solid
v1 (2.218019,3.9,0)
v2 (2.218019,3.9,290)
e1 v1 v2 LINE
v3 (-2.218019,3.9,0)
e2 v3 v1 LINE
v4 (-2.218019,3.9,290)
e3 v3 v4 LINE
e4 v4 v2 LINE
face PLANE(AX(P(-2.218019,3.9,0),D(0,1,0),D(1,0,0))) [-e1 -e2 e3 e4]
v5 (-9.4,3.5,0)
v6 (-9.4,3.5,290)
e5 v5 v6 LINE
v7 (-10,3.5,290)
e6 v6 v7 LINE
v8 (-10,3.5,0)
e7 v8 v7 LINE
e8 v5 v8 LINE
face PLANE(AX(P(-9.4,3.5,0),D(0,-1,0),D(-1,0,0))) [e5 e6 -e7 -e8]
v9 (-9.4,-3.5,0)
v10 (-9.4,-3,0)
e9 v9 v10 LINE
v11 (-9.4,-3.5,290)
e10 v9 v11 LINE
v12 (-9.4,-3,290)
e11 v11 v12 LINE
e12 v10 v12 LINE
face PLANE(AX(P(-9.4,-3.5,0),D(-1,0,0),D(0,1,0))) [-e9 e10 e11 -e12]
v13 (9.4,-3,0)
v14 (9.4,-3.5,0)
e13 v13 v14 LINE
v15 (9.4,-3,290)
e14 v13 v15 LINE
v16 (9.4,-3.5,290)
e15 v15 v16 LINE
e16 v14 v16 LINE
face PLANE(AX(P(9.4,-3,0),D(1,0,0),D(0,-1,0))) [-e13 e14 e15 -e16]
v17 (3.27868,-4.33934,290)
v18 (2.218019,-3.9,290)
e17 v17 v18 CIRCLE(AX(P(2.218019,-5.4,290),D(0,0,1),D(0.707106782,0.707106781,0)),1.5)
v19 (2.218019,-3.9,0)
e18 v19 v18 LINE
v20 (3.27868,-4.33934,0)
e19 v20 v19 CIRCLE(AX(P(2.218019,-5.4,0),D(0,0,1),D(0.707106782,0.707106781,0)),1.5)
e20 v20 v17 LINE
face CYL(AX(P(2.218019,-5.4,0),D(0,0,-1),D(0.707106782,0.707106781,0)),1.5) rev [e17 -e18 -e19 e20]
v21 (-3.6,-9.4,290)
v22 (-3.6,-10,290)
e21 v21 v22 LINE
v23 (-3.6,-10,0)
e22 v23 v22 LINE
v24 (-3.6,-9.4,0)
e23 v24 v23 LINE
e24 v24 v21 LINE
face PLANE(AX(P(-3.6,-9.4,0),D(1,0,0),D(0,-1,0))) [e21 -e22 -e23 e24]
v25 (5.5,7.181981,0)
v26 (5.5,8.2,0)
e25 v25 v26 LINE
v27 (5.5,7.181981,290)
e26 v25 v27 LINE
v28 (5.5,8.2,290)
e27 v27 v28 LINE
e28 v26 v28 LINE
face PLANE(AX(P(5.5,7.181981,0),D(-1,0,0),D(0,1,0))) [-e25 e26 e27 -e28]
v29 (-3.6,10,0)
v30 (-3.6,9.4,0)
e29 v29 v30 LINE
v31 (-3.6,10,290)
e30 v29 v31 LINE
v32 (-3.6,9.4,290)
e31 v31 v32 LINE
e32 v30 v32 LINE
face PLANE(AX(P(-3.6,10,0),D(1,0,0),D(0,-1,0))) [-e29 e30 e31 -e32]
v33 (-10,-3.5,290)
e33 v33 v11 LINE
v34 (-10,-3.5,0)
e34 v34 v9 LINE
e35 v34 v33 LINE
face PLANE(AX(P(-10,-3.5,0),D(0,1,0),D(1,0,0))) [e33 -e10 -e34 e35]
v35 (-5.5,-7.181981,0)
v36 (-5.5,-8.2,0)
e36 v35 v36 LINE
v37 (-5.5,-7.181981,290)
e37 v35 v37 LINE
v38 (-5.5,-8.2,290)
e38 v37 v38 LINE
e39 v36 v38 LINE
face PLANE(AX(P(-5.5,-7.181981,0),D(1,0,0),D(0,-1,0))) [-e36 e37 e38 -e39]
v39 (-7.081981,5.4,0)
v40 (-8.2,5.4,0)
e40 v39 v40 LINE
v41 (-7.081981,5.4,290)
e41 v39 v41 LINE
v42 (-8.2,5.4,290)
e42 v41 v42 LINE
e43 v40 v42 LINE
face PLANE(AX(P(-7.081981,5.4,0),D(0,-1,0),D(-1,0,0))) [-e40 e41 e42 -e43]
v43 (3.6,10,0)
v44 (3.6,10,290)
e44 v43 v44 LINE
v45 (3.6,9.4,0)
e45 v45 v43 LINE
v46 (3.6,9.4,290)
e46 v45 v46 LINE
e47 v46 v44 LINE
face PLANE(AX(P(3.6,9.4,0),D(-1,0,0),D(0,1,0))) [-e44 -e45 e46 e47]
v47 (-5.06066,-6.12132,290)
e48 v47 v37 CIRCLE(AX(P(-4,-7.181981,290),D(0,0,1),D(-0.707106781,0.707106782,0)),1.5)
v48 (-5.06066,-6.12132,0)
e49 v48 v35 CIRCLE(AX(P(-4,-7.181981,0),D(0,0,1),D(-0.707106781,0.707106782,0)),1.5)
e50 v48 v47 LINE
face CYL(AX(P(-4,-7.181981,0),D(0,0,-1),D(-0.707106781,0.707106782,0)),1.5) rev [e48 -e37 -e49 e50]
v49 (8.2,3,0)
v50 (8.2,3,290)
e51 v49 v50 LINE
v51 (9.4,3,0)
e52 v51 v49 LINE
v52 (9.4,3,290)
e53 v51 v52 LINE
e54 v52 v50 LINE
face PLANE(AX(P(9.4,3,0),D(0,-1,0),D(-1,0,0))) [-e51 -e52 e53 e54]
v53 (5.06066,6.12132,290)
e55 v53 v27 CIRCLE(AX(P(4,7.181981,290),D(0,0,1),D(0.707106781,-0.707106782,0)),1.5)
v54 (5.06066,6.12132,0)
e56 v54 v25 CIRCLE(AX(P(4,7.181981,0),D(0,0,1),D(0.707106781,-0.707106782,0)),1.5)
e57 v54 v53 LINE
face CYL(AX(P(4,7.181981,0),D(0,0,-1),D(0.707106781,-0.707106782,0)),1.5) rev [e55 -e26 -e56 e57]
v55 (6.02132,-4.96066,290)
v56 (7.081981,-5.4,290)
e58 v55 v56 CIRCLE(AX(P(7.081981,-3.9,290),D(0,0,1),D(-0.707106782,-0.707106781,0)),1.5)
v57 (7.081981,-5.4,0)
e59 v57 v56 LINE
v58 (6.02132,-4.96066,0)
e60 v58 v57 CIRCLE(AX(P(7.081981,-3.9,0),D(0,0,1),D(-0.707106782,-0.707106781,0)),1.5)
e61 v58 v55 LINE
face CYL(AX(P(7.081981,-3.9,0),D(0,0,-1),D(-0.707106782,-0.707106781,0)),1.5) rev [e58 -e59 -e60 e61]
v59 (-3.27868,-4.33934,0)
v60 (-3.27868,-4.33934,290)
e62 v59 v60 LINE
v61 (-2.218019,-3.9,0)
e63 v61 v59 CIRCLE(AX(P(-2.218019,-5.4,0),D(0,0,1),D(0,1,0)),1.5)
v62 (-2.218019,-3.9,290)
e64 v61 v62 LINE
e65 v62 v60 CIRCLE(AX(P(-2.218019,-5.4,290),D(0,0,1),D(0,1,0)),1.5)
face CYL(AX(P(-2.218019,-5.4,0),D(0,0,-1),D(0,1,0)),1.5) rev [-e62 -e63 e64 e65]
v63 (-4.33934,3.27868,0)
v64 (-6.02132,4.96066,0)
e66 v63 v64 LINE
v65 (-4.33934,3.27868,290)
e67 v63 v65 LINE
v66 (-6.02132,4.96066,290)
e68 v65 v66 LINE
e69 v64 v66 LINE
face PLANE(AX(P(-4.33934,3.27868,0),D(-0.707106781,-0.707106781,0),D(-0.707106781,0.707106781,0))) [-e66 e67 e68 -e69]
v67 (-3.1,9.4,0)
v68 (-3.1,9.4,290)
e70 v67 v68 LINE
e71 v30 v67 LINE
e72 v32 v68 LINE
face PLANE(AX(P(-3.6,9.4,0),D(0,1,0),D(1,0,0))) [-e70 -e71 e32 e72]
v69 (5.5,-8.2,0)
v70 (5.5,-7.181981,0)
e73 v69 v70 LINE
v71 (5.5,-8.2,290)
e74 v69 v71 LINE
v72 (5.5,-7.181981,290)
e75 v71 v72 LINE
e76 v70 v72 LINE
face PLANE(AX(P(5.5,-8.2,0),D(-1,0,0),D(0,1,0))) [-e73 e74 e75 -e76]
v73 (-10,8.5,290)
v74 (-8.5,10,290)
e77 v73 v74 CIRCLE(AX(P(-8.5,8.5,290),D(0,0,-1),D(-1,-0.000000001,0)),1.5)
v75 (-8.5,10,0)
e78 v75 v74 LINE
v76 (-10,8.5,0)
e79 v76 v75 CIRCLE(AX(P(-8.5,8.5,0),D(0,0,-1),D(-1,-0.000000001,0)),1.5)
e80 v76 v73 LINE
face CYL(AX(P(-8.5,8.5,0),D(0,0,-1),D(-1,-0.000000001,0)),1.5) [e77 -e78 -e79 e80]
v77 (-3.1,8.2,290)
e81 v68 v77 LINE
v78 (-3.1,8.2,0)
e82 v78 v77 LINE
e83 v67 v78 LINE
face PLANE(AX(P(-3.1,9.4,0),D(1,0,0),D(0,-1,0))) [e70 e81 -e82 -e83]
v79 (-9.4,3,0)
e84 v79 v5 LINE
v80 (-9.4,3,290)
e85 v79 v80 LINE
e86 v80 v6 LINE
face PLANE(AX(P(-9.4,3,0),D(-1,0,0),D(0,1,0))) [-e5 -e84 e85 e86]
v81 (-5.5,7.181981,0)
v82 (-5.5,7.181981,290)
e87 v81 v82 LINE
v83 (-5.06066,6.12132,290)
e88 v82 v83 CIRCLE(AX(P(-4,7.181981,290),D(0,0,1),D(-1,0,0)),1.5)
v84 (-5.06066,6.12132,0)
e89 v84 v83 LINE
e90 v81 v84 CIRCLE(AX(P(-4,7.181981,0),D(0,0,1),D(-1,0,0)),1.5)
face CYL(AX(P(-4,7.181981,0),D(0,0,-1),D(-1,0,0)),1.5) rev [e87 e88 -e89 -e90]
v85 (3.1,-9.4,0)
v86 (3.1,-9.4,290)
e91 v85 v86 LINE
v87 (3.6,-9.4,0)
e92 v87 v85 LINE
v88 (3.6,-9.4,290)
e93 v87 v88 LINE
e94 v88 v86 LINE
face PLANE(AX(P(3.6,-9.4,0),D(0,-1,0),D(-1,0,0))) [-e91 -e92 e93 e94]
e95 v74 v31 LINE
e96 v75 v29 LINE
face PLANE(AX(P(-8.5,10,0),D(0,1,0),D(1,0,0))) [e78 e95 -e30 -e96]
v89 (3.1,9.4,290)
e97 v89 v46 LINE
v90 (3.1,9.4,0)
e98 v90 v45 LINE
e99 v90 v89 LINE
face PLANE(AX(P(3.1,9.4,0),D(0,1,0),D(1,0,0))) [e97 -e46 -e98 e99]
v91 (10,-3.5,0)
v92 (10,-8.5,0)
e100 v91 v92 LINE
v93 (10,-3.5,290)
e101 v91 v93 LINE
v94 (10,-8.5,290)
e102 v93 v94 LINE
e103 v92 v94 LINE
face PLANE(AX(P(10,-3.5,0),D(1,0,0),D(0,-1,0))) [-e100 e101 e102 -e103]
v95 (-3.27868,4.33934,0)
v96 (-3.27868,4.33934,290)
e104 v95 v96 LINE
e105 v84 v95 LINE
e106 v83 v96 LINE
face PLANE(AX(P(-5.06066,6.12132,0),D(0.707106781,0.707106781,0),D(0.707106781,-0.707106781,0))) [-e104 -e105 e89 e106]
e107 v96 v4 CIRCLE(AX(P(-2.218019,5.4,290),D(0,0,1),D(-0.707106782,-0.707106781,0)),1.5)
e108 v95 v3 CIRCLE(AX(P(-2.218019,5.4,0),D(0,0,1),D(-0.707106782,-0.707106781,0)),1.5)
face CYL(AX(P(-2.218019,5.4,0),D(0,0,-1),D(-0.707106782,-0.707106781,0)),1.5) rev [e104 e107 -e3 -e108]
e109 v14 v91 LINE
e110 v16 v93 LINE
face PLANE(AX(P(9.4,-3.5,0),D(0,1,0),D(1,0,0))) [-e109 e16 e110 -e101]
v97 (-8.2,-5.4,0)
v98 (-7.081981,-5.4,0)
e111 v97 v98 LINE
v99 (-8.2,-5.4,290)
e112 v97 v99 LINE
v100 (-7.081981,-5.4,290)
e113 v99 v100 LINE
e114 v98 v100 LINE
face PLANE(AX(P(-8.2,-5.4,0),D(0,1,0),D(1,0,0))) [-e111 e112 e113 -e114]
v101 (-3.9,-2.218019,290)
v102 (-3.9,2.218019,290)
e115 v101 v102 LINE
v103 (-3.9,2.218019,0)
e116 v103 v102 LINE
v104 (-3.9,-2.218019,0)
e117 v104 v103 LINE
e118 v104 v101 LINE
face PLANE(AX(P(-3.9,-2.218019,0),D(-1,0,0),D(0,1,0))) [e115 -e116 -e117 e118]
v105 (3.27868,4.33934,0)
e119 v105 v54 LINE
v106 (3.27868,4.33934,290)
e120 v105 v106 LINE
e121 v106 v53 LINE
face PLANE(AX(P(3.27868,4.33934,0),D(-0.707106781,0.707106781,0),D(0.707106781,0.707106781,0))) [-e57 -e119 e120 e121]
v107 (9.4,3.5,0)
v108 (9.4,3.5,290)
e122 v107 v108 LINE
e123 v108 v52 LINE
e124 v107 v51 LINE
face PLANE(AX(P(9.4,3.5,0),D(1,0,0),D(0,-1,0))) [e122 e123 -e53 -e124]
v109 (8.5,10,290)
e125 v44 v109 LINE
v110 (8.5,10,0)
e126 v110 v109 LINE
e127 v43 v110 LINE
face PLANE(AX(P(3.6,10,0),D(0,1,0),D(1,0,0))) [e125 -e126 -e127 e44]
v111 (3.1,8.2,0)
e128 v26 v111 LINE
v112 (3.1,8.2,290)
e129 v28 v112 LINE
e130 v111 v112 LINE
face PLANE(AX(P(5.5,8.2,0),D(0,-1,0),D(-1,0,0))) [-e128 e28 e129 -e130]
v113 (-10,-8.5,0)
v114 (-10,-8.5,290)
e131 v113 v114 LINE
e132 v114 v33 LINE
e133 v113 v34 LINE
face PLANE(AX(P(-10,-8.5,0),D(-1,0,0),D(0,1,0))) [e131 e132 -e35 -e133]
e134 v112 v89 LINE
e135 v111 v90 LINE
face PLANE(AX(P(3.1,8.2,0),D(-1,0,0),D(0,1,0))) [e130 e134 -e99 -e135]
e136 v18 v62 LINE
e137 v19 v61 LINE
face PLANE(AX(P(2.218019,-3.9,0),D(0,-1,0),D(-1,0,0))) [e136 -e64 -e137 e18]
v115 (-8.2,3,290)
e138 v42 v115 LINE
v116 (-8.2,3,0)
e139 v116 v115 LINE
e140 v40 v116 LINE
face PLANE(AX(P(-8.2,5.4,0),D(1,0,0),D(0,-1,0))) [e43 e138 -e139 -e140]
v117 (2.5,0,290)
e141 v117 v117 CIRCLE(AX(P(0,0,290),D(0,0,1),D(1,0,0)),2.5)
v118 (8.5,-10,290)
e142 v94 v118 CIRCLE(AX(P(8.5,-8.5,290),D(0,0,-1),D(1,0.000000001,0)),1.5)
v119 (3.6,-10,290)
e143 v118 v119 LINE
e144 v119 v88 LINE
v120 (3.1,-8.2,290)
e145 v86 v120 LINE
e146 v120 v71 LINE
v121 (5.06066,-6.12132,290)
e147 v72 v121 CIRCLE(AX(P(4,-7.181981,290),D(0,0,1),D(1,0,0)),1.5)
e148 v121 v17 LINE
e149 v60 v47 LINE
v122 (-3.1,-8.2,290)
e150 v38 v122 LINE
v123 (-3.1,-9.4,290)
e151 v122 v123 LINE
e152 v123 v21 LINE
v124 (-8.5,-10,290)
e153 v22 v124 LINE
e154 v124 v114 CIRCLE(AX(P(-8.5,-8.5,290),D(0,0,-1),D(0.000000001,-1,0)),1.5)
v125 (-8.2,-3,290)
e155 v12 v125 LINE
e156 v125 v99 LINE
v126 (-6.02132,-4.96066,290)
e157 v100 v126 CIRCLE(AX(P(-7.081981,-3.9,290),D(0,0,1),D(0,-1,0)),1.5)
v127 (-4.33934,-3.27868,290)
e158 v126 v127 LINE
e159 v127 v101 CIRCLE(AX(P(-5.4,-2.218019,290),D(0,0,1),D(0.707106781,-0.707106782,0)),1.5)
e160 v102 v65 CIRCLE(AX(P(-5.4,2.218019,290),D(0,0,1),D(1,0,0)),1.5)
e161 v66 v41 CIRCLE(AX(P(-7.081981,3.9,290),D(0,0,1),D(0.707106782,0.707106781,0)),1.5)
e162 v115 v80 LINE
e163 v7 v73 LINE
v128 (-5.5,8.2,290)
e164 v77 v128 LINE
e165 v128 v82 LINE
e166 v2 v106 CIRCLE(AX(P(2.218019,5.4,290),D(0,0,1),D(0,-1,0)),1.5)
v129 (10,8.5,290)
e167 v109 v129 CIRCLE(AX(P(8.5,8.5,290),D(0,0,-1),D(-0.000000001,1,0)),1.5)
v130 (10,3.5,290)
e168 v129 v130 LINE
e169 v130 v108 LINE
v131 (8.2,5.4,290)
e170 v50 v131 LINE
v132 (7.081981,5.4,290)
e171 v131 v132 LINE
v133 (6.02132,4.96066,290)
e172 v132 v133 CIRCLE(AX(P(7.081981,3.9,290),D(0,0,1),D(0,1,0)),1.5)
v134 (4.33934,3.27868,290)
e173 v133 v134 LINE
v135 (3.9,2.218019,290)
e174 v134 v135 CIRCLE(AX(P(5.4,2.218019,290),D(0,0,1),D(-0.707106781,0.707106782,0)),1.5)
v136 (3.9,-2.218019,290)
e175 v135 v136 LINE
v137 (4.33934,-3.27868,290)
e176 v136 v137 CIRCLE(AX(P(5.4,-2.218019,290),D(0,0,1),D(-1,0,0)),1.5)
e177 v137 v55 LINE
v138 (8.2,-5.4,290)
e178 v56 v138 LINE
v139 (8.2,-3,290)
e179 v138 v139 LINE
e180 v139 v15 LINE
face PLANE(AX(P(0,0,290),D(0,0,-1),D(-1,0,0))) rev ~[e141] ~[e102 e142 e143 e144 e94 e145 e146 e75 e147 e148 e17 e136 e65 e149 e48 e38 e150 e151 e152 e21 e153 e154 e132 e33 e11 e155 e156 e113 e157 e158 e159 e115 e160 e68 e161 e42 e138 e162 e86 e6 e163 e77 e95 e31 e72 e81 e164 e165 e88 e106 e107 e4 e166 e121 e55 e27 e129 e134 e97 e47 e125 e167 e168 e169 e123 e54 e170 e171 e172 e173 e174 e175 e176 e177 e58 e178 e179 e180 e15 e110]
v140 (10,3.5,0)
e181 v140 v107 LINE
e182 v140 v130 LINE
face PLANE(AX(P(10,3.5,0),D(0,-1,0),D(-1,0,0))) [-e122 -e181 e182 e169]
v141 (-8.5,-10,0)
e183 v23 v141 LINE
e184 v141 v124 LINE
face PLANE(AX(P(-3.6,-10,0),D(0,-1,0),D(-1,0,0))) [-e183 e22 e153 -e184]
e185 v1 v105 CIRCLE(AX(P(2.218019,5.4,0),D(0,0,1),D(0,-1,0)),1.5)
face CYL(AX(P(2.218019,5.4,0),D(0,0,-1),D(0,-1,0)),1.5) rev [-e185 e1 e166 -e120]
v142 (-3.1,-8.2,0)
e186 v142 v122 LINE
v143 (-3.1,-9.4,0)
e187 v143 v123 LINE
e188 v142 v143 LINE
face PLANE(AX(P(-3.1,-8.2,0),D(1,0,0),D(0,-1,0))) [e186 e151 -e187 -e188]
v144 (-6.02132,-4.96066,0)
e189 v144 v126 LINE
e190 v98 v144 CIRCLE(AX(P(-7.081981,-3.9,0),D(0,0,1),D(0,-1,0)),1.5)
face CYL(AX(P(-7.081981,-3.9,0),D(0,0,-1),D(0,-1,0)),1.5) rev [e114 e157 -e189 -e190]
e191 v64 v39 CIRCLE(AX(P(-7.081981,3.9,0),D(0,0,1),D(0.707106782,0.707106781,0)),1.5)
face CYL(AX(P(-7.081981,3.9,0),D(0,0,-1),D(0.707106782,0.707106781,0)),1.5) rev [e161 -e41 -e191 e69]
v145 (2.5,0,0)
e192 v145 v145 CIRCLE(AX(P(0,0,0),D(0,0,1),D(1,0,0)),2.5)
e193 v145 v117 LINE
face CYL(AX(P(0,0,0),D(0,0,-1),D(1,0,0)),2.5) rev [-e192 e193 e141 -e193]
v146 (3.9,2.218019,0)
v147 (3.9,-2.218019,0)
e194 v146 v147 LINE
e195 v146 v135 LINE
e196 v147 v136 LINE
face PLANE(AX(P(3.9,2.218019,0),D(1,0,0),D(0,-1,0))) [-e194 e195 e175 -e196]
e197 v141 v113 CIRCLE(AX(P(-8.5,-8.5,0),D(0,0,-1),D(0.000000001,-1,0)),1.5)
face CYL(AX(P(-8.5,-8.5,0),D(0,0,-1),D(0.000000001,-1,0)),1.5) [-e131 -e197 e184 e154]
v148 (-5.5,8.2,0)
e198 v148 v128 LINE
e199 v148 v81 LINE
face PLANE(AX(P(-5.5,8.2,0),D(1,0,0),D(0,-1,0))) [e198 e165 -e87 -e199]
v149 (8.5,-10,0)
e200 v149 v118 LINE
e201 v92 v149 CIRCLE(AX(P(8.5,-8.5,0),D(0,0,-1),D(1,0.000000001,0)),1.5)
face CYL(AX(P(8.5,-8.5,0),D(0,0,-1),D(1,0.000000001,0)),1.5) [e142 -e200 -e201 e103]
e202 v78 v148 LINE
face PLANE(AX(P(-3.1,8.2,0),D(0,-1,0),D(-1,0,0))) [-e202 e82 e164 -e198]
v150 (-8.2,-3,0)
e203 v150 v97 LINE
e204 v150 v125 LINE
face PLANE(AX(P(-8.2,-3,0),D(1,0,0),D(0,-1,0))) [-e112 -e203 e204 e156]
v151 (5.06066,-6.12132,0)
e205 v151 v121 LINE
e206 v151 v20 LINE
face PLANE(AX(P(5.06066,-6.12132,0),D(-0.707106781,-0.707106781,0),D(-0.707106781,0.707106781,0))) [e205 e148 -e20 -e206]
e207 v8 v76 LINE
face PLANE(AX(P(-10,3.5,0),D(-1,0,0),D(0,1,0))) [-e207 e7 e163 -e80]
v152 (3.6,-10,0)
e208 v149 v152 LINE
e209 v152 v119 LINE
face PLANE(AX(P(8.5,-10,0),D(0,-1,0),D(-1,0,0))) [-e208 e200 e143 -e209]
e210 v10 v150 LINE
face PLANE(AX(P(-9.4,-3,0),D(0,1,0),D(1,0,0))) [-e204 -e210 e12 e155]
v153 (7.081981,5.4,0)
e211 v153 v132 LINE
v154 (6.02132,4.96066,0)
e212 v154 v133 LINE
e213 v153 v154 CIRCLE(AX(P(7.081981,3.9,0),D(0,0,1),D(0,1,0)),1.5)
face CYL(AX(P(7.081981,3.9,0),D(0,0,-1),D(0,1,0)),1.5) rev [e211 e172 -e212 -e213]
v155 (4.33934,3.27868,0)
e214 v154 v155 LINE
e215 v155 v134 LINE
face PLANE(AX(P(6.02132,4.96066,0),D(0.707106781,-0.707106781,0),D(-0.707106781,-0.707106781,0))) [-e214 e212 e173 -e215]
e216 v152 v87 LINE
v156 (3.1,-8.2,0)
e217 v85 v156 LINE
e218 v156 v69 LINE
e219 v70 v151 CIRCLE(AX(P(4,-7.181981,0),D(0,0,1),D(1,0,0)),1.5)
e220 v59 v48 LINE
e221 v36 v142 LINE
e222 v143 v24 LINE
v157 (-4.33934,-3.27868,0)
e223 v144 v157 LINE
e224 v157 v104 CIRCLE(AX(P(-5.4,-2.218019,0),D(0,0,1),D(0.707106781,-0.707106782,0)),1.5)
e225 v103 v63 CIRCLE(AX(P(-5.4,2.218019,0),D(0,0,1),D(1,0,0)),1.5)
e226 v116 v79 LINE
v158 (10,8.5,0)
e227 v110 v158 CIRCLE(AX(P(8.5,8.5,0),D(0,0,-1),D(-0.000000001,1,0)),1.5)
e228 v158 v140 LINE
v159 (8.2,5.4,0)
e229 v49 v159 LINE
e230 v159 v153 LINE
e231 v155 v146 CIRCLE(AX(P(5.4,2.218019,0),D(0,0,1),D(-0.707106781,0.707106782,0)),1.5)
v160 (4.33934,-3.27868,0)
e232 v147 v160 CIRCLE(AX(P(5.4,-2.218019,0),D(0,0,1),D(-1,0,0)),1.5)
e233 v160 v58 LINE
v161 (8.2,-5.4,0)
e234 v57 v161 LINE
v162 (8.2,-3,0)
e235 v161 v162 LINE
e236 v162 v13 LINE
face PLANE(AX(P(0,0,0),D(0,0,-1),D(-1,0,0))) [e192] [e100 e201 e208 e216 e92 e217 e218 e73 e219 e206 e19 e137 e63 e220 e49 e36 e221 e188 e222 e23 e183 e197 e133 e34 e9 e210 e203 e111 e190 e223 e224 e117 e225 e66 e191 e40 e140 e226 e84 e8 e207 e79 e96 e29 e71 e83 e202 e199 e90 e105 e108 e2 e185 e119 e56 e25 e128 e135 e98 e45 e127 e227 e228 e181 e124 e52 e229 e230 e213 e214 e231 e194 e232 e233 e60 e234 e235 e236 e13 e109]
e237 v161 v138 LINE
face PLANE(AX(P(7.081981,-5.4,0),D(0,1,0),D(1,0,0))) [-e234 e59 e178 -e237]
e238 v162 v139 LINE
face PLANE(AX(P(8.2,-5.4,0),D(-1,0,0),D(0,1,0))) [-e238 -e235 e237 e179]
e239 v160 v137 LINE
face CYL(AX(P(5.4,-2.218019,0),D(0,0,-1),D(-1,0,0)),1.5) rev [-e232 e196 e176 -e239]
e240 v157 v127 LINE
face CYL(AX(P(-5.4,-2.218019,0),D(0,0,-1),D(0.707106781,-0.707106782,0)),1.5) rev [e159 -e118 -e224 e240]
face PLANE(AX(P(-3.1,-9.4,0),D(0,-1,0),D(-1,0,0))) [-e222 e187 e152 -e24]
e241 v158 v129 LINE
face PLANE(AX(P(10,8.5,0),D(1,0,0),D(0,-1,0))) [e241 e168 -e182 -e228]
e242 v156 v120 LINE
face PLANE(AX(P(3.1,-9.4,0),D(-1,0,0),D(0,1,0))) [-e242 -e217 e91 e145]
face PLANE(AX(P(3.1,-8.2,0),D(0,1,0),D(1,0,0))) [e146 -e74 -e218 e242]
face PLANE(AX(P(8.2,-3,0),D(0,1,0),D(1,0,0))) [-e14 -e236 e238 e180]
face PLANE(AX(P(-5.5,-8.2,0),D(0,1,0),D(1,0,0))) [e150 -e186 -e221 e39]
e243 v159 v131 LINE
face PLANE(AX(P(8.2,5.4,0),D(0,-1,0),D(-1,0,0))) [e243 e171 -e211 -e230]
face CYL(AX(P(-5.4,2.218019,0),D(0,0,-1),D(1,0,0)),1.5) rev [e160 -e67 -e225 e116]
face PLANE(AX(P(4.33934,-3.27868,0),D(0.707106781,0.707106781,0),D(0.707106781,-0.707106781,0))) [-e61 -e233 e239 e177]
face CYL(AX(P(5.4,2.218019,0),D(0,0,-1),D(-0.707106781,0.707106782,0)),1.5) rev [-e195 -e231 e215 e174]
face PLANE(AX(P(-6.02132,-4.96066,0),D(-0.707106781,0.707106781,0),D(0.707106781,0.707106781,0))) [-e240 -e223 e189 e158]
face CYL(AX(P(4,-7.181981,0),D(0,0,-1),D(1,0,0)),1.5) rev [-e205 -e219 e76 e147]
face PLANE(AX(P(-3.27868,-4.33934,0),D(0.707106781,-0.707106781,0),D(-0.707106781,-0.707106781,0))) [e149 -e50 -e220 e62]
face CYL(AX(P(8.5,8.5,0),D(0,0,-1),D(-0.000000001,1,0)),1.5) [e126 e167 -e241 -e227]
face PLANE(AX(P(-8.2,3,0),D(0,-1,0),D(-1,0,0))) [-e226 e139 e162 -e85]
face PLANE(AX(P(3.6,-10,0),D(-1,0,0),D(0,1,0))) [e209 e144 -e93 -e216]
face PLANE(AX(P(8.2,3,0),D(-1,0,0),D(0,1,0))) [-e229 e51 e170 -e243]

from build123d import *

# Parameters (mm, degrees)
SKETCH1_R           = 2.5
BOSS_EXTRUDE1_DEPTH = 290


with BuildPart() as part:
    # Sketch1 → Boss-Extrude1 (new body)
    with BuildSketch(Plane.XY):
        with BuildLine():
            Line((-3.6, -10), (-8.5, -10))
            ThreePointArc((-8.5, -10), (-9.560660172, -9.560660172), (-10, -8.5))
            Line((-10, -8.5), (-10, -3.5))
            Line((-10, -3.5), (-9.4, -3.5))
            Line((-9.4, -3.5), (-9.4, -3))
            Line((-9.4, -3), (-8.2, -3))
            Line((-8.2, -3), (-8.2, -5.4))
            Line((-8.2, -5.4), (-7.081980515, -5.4))
            ThreePointArc((-7.081980515, -5.4), (-6.507955367, -5.285819299), (-6.021320344, -4.960660172))
            Line((-6.021320344, -4.960660172), (-4.339339828, -3.278679656))
            ThreePointArc((-4.339339828, -3.278679656), (-4.014180701, -2.792044633), (-3.9, -2.218019485))
            Line((-3.9, -2.218019485), (-3.9, 2.218019485))
            ThreePointArc((-3.9, 2.218019485), (-4.014180701, 2.792044633), (-4.339339828, 3.278679656))
            Line((-4.339339828, 3.278679656), (-6.021320344, 4.960660172))
            ThreePointArc((-6.021320344, 4.960660172), (-6.507955367, 5.285819299), (-7.081980515, 5.4))
            Line((-7.081980515, 5.4), (-8.2, 5.4))
            Line((-8.2, 5.4), (-8.2, 3))
            Line((-8.2, 3), (-9.4, 3))
            Line((-9.4, 3), (-9.4, 3.5))
            Line((-9.4, 3.5), (-10, 3.5))
            Line((-10, 3.5), (-10, 8.5))
            ThreePointArc((-10, 8.5), (-9.560660172, 9.560660172), (-8.5, 10))
            Line((-8.5, 10), (-3.6, 10))
            Line((-3.6, 10), (-3.6, 9.4))
            Line((-3.6, 9.4), (-3.1, 9.4))
            Line((-3.1, 9.4), (-3.1, 8.2))
            Line((-3.1, 8.2), (-5.5, 8.2))
            Line((-5.5, 8.2), (-5.5, 7.181980515))
            ThreePointArc((-5.5, 7.181980515), (-5.385819299, 6.607955367), (-5.060660172, 6.121320344))
            Line((-5.060660172, 6.121320344), (-3.278679656, 4.339339828))
            ThreePointArc((-3.278679656, 4.339339828), (-2.792044633, 4.014180701), (-2.218019485, 3.9))
            Line((-2.218019485, 3.9), (2.218019485, 3.9))
            ThreePointArc((2.218019485, 3.9), (2.792044633, 4.014180701), (3.278679656, 4.339339828))
            Line((3.278679656, 4.339339828), (5.060660172, 6.121320344))
            ThreePointArc((5.060660172, 6.121320344), (5.385819299, 6.607955367), (5.5, 7.181980515))
            Line((5.5, 7.181980515), (5.5, 8.2))
            Line((5.5, 8.2), (3.1, 8.2))
            Line((3.1, 8.2), (3.1, 9.4))
            Line((3.1, 9.4), (3.6, 9.4))
            Line((3.6, 9.4), (3.6, 10))
            Line((3.6, 10), (8.5, 10))
            ThreePointArc((8.5, 10), (9.560660172, 9.560660172), (10, 8.5))
            Line((10, 8.5), (10, 3.5))
            Line((10, 3.5), (9.4, 3.5))
            Line((9.4, 3.5), (9.4, 3))
            Line((9.4, 3), (8.2, 3))
            Line((8.2, 3), (8.2, 5.4))
            Line((8.2, 5.4), (7.081980515, 5.4))
            ThreePointArc((7.081980515, 5.4), (6.507955367, 5.285819299), (6.021320344, 4.960660172))
            Line((6.021320344, 4.960660172), (4.339339828, 3.278679656))
            ThreePointArc((4.339339828, 3.278679656), (4.014180701, 2.792044633), (3.9, 2.218019485))
            Line((3.9, 2.218019485), (3.9, -2.218019485))
            ThreePointArc((3.9, -2.218019485), (4.014180701, -2.792044633), (4.339339828, -3.278679656))
            Line((4.339339828, -3.278679656), (6.021320344, -4.960660172))
            ThreePointArc((6.021320344, -4.960660172), (6.507955367, -5.285819299), (7.081980515, -5.4))
            Line((7.081980515, -5.4), (8.2, -5.4))
            Line((8.2, -5.4), (8.2, -3))
            Line((8.2, -3), (9.4, -3))
            Line((9.4, -3), (9.4, -3.5))
            Line((9.4, -3.5), (10, -3.5))
            Line((10, -3.5), (10, -8.5))
            ThreePointArc((10, -8.5), (9.560660172, -9.560660172), (8.5, -10))
            Line((8.5, -10), (3.6, -10))
            Line((3.6, -10), (3.6, -9.4))
            Line((3.6, -9.4), (3.1, -9.4))
            Line((3.1, -9.4), (3.1, -8.2))
            Line((3.1, -8.2), (5.5, -8.2))
            Line((5.5, -8.2), (5.5, -7.181980515))
            ThreePointArc((5.5, -7.181980515), (5.385819299, -6.607955367), (5.060660172, -6.121320344))
            Line((5.060660172, -6.121320344), (3.278679656, -4.339339828))
            ThreePointArc((3.278679656, -4.339339828), (2.792044633, -4.014180701), (2.218019485, -3.9))
            Line((2.218019485, -3.9), (-2.218019485, -3.9))
            ThreePointArc((-2.218019485, -3.9), (-2.792044633, -4.014180701), (-3.278679656, -4.339339828))
            Line((-3.278679656, -4.339339828), (-5.060660172, -6.121320344))
            ThreePointArc((-5.060660172, -6.121320344), (-5.385819299, -6.607955367), (-5.5, -7.181980515))
            Line((-5.5, -7.181980515), (-5.5, -8.2))
            Line((-5.5, -8.2), (-3.1, -8.2))
            Line((-3.1, -8.2), (-3.1, -9.4))
            Line((-3.1, -9.4), (-3.6, -9.4))
            Line((-3.6, -9.4), (-3.6, -10))
        make_face()
        Circle(SKETCH1_R, mode=Mode.SUBTRACT)
    extrude(amount=BOSS_EXTRUDE1_DEPTH)


solid = part.part
